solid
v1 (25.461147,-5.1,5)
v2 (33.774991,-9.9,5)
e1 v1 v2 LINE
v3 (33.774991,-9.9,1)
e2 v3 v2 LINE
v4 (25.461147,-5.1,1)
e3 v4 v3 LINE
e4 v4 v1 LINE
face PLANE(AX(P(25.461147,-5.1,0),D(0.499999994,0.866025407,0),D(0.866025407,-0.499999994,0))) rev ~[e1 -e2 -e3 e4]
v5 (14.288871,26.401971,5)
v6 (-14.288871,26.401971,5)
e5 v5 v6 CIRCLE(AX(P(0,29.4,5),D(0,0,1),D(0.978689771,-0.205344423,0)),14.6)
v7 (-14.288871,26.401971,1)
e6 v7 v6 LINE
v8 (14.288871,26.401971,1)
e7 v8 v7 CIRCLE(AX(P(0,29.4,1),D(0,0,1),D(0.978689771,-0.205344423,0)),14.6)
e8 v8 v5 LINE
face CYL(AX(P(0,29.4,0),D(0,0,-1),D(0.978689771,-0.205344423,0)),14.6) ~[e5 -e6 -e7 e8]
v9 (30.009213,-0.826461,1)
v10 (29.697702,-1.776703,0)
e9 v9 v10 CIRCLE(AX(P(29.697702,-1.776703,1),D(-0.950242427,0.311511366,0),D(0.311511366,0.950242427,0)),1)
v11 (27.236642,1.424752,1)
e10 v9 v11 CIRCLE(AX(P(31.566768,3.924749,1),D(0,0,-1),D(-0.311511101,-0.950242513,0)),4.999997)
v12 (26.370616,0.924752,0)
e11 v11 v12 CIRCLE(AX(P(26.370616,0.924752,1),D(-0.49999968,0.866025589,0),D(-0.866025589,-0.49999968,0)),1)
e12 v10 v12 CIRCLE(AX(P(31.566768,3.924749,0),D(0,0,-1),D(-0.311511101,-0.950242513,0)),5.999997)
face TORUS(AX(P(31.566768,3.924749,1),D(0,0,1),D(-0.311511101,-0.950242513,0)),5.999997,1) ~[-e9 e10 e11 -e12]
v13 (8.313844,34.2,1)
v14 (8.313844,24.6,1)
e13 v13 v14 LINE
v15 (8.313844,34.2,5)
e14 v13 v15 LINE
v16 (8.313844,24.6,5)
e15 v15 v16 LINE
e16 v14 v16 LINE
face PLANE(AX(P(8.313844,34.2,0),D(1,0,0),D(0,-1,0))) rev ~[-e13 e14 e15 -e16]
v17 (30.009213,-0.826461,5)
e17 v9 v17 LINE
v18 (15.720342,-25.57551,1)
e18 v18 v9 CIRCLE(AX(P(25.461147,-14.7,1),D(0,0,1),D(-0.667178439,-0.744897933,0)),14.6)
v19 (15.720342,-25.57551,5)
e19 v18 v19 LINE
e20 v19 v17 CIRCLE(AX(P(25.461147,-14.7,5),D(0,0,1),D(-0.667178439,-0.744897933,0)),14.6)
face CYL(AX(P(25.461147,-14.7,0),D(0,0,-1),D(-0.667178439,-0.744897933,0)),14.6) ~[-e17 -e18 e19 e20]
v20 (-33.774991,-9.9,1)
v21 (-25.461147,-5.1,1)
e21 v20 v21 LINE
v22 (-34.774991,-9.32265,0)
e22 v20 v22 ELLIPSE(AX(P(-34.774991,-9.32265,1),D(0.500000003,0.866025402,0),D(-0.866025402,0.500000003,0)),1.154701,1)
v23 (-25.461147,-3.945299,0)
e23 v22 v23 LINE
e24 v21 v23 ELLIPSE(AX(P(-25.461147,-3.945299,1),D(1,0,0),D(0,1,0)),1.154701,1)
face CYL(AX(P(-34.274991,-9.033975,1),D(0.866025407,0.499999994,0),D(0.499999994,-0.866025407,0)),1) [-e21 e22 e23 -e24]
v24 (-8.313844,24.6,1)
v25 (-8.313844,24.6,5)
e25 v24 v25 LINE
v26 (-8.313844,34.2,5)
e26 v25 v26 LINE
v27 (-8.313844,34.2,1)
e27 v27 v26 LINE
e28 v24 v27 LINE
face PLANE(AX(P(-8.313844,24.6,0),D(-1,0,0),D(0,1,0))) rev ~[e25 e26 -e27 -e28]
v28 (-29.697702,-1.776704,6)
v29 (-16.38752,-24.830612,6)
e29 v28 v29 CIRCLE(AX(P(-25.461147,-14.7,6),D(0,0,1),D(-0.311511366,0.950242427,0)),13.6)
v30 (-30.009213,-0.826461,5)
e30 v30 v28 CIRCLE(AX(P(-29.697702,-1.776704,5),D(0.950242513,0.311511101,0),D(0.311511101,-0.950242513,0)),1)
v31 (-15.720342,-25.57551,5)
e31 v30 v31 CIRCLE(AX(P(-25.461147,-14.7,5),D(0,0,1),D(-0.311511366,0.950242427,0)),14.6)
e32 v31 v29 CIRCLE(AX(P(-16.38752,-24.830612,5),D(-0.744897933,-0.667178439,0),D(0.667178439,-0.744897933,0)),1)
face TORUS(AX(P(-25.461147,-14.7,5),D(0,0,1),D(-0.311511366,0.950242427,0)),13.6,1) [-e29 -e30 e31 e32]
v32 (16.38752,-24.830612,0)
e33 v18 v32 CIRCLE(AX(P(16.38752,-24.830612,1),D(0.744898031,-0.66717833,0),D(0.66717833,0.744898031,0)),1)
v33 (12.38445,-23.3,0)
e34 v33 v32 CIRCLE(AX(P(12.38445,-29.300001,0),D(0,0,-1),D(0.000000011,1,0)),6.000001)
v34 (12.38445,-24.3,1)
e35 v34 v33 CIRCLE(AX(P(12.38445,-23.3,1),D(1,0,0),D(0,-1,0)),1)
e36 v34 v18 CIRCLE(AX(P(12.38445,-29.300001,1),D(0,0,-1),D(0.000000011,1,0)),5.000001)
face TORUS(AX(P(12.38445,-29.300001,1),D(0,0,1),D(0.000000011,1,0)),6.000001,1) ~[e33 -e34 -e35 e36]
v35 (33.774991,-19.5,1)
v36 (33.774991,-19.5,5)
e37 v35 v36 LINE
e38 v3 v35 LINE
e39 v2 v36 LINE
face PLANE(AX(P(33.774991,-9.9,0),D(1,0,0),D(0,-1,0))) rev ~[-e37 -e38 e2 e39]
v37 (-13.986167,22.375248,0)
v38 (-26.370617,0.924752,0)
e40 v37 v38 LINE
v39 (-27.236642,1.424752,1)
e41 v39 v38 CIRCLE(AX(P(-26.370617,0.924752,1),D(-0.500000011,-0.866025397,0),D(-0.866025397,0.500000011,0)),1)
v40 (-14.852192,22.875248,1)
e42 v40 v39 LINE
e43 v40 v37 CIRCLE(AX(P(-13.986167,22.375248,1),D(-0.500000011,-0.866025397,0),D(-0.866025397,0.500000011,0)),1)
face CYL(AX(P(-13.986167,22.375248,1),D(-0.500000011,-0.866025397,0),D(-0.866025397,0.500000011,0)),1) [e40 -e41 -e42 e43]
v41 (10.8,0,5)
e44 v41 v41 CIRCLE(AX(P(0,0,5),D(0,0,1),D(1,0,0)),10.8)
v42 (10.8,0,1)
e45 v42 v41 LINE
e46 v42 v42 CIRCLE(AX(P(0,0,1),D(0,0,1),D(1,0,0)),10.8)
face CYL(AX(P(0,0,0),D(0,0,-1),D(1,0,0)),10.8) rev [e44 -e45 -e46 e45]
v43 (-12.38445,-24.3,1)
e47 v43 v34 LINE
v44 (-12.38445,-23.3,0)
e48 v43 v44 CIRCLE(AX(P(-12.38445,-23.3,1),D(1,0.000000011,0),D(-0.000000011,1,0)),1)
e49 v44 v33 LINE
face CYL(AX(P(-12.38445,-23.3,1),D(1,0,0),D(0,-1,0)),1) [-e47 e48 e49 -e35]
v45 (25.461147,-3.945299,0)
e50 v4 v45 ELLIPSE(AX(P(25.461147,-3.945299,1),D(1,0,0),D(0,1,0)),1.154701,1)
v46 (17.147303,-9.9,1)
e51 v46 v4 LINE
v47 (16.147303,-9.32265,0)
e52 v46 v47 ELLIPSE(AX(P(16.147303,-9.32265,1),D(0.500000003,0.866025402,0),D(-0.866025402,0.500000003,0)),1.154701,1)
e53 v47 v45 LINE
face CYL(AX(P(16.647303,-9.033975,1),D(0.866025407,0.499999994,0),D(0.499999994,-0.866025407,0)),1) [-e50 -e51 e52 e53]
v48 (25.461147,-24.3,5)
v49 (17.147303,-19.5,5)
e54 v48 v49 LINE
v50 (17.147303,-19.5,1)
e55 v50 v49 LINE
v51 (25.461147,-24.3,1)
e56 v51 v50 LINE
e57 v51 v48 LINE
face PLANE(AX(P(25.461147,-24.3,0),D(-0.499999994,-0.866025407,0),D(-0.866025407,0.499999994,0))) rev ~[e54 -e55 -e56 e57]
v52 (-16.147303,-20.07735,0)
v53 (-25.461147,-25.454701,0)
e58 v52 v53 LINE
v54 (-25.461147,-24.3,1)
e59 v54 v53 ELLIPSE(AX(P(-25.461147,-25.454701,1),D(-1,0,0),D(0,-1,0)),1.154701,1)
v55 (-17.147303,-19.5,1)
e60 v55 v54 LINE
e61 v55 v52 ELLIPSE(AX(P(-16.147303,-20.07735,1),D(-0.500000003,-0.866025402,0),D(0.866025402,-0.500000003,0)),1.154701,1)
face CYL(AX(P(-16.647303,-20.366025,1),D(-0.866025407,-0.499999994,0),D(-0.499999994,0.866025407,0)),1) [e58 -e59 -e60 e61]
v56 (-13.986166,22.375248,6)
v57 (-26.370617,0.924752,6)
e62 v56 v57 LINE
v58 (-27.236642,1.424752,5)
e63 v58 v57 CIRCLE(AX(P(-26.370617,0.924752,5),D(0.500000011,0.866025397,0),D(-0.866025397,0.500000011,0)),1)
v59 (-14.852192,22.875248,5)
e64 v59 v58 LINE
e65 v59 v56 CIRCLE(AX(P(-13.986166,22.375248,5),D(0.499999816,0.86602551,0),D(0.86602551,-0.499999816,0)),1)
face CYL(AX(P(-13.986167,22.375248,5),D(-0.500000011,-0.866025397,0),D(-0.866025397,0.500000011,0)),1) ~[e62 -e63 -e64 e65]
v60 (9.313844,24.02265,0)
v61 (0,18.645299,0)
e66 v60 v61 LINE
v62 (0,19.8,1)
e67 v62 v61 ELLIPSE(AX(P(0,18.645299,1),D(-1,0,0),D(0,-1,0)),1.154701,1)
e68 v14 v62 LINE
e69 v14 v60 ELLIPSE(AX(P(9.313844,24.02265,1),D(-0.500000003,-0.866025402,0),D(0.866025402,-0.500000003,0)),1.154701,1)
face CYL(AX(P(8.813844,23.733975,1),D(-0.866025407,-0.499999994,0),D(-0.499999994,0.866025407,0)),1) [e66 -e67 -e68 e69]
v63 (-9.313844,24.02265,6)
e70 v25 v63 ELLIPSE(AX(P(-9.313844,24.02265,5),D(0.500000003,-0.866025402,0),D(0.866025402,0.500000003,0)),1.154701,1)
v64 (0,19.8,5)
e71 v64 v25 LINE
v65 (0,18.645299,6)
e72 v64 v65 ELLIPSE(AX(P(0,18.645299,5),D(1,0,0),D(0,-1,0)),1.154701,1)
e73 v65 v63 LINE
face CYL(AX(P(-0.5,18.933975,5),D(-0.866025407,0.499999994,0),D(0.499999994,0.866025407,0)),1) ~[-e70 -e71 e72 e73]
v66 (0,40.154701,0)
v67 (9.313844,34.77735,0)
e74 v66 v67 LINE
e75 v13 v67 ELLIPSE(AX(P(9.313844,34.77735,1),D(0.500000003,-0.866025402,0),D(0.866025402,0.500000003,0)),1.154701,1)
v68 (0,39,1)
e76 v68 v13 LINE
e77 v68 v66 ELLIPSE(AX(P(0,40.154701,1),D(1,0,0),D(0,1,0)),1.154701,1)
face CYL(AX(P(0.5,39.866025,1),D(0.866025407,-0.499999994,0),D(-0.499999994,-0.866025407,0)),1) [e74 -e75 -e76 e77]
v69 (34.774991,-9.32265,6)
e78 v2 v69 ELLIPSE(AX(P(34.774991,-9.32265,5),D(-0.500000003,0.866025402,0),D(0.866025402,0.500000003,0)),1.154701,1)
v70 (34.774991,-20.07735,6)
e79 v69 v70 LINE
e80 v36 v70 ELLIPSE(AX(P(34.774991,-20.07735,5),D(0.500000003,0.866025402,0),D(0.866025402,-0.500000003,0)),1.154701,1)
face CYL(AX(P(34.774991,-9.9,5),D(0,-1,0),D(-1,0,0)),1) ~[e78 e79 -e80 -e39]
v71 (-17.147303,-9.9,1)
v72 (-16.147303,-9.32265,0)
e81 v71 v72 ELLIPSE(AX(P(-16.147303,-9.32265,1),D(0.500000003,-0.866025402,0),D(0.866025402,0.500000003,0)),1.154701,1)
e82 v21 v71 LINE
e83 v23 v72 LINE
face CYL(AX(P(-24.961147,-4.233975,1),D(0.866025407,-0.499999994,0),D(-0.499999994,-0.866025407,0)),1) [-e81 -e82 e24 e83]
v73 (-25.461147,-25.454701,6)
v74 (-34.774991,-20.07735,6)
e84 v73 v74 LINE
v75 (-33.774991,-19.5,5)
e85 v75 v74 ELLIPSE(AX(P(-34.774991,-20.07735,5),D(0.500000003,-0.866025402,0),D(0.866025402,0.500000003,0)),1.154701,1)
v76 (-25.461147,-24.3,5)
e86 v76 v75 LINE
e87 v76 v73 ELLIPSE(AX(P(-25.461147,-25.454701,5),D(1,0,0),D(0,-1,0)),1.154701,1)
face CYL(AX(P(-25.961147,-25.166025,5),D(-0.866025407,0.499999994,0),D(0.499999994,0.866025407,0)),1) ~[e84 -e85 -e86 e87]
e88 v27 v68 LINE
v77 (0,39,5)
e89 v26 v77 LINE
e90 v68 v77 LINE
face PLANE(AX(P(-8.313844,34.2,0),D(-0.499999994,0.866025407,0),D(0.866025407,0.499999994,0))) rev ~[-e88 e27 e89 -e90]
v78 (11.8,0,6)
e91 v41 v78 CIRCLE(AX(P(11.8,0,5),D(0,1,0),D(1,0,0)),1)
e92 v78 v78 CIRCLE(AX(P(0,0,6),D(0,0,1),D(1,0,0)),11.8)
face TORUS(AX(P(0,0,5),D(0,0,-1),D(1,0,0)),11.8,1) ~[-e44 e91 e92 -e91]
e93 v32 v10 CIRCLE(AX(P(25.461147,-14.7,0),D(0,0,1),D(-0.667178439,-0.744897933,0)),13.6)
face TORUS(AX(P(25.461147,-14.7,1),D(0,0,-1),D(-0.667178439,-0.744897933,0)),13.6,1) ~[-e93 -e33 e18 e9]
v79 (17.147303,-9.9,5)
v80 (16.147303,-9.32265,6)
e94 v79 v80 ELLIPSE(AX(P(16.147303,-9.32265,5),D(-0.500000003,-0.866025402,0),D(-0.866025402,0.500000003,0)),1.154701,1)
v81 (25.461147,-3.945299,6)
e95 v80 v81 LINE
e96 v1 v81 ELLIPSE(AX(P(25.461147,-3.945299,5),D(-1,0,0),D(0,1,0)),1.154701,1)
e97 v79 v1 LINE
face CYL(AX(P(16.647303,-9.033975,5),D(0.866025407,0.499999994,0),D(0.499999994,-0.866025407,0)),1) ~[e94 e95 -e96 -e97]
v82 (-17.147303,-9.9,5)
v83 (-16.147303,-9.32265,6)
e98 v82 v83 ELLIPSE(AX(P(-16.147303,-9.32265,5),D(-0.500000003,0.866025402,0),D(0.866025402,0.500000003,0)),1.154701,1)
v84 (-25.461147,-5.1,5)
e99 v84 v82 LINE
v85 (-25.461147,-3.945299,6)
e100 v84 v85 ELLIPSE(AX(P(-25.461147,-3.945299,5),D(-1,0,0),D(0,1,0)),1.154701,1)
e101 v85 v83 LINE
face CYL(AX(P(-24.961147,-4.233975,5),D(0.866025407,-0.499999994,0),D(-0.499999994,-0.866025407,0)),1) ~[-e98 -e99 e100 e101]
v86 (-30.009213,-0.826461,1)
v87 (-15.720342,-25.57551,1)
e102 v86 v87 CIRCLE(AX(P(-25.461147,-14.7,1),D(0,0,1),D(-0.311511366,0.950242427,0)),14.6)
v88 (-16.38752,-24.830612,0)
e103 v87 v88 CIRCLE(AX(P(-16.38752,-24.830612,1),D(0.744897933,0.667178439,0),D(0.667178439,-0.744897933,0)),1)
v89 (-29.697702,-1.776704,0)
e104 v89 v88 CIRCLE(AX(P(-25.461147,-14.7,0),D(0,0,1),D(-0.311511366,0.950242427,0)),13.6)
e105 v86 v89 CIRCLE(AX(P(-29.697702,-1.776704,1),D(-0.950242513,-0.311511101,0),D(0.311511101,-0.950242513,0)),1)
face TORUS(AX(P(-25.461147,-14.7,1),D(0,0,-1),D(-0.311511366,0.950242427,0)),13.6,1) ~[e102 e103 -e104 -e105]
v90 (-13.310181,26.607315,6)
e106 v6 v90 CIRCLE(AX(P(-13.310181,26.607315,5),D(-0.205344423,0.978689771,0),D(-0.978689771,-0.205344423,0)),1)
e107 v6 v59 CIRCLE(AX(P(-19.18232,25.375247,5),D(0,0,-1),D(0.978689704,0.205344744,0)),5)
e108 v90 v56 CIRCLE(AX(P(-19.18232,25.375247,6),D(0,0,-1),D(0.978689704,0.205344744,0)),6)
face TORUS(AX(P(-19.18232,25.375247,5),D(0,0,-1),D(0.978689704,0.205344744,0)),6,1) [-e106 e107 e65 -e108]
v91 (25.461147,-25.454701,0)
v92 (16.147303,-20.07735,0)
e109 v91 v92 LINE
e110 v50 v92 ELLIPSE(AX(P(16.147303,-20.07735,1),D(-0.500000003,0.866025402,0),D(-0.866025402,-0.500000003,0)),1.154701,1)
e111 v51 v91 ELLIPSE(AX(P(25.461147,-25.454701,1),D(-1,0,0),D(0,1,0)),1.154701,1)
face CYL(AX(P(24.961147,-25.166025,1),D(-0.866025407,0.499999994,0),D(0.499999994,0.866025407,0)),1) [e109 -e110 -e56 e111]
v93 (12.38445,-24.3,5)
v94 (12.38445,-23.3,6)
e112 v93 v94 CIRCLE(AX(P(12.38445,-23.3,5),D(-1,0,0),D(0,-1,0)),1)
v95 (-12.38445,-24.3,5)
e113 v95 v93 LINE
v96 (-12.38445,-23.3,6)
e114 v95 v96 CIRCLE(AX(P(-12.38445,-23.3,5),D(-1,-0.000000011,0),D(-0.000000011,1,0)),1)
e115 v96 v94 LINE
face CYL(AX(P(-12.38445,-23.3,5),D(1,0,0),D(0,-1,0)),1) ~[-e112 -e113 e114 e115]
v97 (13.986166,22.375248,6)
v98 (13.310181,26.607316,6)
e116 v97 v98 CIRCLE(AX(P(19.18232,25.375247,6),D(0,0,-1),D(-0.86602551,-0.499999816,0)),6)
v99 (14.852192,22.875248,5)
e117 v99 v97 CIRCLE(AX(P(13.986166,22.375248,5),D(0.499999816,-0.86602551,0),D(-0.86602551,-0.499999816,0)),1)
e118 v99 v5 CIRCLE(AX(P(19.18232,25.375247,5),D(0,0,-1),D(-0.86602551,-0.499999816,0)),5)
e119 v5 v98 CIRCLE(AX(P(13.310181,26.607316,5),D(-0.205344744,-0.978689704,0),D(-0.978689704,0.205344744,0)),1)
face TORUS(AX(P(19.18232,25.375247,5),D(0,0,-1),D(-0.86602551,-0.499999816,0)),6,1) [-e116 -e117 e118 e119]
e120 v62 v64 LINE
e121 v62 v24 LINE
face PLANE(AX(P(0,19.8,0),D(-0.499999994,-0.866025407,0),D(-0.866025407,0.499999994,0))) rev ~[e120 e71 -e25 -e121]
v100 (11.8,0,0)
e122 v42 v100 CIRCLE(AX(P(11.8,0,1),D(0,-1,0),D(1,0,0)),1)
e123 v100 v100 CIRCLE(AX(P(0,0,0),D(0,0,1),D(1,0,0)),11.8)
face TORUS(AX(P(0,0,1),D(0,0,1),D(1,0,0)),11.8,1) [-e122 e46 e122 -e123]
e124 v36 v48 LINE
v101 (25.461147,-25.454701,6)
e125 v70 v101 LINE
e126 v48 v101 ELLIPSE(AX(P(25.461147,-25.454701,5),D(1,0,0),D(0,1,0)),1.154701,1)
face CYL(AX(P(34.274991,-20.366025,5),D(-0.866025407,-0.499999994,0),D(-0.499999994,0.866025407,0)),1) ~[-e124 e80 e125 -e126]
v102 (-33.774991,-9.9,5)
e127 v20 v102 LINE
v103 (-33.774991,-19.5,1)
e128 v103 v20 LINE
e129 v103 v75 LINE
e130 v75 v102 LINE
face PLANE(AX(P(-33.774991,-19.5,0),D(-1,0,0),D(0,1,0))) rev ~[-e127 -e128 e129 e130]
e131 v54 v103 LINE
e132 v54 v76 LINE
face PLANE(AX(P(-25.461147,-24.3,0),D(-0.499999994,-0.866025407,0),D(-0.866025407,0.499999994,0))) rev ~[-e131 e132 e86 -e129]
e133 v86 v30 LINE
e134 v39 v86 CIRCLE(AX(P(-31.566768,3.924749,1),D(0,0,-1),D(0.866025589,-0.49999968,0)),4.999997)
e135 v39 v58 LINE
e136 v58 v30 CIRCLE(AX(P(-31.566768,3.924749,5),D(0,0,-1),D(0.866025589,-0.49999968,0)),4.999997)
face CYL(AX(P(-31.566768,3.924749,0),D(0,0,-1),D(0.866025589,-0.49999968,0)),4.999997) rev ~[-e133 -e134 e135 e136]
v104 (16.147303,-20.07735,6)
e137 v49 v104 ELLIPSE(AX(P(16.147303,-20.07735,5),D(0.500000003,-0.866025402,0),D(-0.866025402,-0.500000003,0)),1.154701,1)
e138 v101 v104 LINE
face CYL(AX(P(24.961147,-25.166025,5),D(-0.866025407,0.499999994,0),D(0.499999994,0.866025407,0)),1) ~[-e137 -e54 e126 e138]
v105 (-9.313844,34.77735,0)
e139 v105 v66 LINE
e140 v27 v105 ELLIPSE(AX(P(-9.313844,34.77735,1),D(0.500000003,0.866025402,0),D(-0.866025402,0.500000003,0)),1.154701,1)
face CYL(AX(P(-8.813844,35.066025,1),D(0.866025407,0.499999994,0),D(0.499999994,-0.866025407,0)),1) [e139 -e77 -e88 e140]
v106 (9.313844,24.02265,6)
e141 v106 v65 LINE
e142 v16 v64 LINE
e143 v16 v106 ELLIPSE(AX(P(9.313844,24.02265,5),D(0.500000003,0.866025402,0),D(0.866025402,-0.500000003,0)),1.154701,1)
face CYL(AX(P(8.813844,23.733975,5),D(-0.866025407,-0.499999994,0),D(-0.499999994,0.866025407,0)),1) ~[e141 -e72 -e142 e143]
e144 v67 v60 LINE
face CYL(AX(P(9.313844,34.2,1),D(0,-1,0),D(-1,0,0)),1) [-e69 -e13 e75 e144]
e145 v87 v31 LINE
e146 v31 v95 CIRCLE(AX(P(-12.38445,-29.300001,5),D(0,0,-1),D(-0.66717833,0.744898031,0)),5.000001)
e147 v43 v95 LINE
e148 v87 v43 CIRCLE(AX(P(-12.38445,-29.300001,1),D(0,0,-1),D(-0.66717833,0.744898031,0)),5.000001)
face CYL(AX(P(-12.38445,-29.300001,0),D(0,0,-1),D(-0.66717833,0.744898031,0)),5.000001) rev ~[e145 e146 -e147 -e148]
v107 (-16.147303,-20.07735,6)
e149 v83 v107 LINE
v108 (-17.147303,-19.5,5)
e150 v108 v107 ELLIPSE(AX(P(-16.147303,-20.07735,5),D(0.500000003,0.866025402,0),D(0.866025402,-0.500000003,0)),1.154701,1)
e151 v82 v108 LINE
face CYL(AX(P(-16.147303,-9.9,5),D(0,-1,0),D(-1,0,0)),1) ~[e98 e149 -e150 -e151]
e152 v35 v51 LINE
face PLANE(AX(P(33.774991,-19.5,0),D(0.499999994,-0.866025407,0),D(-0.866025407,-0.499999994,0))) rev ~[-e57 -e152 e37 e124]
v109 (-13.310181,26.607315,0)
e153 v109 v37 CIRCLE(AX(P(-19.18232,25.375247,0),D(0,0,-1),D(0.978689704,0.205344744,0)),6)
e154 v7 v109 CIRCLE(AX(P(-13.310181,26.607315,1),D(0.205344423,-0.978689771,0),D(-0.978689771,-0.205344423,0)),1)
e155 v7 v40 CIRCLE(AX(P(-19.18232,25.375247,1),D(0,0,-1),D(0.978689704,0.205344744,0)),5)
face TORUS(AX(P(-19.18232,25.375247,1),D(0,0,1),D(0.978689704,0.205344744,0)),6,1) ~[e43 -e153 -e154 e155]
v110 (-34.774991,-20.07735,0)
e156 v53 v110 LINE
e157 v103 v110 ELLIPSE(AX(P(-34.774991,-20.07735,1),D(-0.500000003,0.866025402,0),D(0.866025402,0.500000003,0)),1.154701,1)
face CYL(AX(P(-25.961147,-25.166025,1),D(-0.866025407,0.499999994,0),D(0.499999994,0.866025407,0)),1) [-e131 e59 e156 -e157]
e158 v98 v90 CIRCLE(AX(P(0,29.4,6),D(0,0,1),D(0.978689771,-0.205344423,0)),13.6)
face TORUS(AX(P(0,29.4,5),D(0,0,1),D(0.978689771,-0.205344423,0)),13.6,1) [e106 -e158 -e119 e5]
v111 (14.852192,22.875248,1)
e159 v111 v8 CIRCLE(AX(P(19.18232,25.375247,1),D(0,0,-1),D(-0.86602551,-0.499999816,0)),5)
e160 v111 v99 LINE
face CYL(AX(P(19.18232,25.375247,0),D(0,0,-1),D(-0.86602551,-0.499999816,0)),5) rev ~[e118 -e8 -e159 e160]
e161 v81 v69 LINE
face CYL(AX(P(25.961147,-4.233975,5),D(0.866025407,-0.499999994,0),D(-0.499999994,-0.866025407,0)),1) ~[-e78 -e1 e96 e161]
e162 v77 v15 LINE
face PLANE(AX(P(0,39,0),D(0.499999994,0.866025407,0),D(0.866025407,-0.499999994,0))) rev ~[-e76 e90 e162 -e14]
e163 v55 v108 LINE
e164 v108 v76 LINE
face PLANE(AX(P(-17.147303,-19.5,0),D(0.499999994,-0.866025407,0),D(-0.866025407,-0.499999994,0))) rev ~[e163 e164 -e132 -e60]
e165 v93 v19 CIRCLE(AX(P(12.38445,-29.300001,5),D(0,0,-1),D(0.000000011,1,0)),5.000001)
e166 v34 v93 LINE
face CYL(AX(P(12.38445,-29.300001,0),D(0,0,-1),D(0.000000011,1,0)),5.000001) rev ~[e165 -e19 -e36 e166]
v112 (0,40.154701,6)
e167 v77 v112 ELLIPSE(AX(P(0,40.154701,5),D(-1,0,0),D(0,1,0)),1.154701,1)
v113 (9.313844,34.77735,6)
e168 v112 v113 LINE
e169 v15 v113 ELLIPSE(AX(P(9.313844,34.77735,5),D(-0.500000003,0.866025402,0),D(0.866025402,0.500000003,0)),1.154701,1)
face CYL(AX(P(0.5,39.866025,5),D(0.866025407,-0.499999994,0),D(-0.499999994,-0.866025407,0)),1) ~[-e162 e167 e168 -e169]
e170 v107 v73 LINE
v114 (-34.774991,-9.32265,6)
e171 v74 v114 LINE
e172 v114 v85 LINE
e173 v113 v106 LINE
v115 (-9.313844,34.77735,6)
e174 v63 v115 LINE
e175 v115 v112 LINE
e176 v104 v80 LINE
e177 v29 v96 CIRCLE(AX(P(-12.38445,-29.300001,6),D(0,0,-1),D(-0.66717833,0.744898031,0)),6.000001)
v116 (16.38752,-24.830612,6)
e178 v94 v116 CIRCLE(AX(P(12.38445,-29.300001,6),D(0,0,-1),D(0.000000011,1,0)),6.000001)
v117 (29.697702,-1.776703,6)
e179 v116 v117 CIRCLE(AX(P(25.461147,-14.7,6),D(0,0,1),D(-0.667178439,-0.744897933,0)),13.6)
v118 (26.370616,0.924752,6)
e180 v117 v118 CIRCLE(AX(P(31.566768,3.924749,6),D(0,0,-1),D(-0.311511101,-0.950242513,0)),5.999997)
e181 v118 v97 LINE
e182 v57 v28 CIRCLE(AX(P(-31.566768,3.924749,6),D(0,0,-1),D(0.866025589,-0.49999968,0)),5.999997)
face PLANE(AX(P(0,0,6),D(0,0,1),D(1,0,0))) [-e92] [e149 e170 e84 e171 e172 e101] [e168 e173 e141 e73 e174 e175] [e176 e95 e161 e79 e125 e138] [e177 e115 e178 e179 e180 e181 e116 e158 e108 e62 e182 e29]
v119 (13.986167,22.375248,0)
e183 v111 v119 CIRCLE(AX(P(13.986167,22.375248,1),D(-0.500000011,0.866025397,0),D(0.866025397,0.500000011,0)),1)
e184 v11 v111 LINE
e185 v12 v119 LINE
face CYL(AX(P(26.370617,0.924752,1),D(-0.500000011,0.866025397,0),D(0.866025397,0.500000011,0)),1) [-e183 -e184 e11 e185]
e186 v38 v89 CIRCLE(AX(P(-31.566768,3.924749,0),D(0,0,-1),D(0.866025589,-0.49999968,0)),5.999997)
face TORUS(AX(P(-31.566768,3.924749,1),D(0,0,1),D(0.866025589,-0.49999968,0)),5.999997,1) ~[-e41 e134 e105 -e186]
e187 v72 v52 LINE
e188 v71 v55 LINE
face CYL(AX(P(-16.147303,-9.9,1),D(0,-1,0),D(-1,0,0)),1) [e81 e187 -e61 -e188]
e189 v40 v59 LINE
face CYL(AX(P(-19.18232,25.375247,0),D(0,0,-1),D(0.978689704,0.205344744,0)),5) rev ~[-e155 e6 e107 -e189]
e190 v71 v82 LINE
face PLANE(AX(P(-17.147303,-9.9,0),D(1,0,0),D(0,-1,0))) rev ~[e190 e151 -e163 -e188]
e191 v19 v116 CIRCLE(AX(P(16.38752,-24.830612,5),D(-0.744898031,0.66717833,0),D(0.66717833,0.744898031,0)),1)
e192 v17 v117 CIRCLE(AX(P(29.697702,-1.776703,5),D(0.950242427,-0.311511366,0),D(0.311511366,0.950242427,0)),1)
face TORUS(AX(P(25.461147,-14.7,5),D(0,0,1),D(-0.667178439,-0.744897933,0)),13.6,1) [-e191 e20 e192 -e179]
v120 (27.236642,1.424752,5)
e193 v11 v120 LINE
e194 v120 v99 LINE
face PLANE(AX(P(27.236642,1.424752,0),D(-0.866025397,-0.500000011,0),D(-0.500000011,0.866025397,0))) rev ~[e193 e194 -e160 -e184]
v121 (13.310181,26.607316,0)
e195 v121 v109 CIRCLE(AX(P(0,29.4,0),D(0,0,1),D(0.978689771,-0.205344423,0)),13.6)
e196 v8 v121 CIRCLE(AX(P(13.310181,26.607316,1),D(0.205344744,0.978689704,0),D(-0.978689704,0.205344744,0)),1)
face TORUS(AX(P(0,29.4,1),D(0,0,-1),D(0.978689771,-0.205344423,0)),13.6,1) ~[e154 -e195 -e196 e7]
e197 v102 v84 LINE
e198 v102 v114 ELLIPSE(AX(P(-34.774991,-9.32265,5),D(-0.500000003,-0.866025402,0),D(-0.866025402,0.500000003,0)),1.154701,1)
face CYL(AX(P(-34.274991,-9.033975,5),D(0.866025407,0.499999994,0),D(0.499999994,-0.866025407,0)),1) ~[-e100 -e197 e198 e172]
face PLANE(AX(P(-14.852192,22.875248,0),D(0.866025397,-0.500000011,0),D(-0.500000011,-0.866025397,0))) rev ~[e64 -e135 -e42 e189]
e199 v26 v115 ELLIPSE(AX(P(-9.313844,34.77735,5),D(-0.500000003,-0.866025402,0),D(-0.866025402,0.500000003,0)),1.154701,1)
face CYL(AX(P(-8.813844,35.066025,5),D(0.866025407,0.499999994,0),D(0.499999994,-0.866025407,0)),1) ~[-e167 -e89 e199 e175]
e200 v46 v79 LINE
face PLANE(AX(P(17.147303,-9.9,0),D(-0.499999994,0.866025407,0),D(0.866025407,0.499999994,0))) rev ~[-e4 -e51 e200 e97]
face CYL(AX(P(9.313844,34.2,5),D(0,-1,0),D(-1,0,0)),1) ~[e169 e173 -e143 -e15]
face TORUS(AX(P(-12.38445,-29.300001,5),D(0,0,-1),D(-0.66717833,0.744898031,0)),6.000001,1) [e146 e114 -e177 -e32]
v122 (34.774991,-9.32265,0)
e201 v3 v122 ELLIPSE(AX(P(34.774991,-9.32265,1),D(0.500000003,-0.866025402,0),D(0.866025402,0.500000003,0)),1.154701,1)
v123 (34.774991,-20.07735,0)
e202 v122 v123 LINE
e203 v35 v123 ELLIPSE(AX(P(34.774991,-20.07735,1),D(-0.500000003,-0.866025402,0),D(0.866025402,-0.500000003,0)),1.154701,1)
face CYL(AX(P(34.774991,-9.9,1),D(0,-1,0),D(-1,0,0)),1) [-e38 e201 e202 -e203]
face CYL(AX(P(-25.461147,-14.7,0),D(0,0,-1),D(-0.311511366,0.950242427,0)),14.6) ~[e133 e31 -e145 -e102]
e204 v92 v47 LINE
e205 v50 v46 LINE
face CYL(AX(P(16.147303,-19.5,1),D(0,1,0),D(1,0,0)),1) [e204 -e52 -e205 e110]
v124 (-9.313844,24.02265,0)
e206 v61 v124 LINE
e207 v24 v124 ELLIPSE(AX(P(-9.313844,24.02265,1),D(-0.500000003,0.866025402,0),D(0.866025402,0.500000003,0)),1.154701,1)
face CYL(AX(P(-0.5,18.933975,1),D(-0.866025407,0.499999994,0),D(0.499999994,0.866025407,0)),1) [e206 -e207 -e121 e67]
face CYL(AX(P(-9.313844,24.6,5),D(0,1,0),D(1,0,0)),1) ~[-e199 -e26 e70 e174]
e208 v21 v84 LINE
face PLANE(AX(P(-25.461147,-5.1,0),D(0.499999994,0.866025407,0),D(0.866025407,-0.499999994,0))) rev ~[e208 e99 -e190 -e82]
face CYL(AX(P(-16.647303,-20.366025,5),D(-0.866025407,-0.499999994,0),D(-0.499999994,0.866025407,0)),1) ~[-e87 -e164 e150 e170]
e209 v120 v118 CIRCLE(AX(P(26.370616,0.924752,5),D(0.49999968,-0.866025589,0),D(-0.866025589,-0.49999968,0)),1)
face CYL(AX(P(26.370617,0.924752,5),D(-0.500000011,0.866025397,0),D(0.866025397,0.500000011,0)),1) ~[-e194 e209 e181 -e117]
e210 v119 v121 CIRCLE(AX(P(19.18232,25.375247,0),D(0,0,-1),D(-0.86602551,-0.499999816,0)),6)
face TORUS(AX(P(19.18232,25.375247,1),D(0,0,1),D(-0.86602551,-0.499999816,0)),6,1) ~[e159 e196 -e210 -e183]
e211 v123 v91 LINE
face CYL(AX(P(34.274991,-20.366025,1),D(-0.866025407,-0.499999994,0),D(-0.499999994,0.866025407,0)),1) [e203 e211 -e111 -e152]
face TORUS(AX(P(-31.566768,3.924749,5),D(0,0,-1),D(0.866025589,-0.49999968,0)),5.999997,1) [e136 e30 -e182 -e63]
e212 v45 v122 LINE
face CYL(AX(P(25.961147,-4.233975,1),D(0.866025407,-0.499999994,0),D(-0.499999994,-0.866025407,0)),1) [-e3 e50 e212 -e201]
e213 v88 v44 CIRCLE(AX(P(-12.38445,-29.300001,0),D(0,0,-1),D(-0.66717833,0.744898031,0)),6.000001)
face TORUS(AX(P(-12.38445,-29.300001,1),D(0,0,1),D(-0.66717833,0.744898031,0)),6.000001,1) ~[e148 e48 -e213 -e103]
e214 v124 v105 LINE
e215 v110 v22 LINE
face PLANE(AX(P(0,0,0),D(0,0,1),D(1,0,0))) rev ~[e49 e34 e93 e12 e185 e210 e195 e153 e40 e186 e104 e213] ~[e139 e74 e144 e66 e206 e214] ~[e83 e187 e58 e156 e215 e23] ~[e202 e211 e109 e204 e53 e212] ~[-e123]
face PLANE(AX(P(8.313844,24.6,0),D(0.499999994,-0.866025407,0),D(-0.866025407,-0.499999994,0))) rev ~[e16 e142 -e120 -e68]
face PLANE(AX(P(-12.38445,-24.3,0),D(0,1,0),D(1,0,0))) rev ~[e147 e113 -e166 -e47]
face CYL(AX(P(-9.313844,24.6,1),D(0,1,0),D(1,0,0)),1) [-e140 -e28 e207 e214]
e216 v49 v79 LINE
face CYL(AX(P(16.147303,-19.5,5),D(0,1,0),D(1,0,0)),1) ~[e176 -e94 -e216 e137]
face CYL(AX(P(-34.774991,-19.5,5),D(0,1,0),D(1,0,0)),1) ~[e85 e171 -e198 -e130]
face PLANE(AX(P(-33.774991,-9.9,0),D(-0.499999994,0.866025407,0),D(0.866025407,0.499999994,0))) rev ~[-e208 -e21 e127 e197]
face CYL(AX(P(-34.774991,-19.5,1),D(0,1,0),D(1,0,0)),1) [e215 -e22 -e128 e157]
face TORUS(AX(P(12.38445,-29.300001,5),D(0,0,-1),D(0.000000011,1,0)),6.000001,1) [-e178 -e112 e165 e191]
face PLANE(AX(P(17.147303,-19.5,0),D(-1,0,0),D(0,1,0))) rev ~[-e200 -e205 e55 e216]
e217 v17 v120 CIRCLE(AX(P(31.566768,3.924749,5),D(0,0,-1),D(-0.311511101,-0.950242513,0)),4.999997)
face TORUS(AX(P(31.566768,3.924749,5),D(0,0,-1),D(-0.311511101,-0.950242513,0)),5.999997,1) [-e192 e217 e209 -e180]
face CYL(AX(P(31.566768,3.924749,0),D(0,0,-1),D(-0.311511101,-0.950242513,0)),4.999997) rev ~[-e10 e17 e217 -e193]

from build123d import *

# Parameters (mm, degrees)
F0_R     = 10.8
F1_DEPTH = 6
F2_R     = 1


with BuildPart() as f1:
    # F0 (on Top) → F1 (new body)
    with BuildSketch(Plane.XY):
        with BuildLine():
            ThreePointArc((14.852192, 22.875248), (14.244908, 24.586598), (14.288871, 26.401971))
            ThreePointArc((14.288871, 26.401971), (0, 44), (-14.288871, 26.401971))
            ThreePointArc((-14.288871, 26.401971), (-14.244908, 24.586598), (-14.852192, 22.875248))
            Line((-14.852192, 22.875248), (-27.236642, 1.424752))
            ThreePointArc((-27.236642, 1.424752), (-28.415072, 0.043153), (-30.009213, -0.826461))
            ThreePointArc((-30.009213, -0.826461), (-38.105118, -22), (-15.720342, -25.57551))
            ThreePointArc((-15.720342, -25.57551), (-14.170164, -24.629751), (-12.38445, -24.3))
            Line((-12.38445, -24.3), (12.38445, -24.3))
            ThreePointArc((12.38445, -24.3), (14.170164, -24.629751), (15.720342, -25.57551))
            ThreePointArc((15.720342, -25.57551), (38.105118, -22), (30.009213, -0.826461))
            ThreePointArc((30.009213, -0.826461), (28.415072, 0.043153), (27.236642, 1.424752))
            Line((27.236642, 1.424752), (14.852192, 22.875248))
        make_face()
        Polygon((-33.774991, -9.9), (-25.461147, -5.1), (-17.147303, -9.9), (-17.147303, -19.5), (-25.461147, -24.3), (-33.774991, -19.5), align=None, mode=Mode.SUBTRACT)
        Polygon((25.461147, -24.3), (17.147303, -19.5), (17.147303, -9.9), (25.461147, -5.1), (33.774991, -9.9), (33.774991, -19.5), align=None, mode=Mode.SUBTRACT)
        Circle(F0_R, mode=Mode.SUBTRACT)
        Polygon((0, 39), (8.313844, 34.2), (8.313844, 24.6), (0, 19.8), (-8.313844, 24.6), (-8.313844, 34.2), align=None, mode=Mode.SUBTRACT)
    extrude(amount=F1_DEPTH)

    # F2
    f2_edges = [f1.edges().sort_by_distance(p)[0] for p in [
        (14.244908, 24.586598, 6),
        (0, 44, 6),
        (-14.244908, 24.586598, 6),
        (-21.044417, 12.15, 6),
        (-28.415072, 0.043153, 6),
        (-38.105118, -22, 6),
        (-14.170164, -24.629751, 6),
        (0, -24.3, 6),
        (14.170164, -24.629751, 6),
        (38.105118, -22, 6),
        (28.415072, 0.043153, 6),
        (21.044417, 12.15, 6),
        (-33.774991, -14.7, 6),
        (-29.618069, -7.5, 6),
        (-21.304225, -7.5, 6),
        (-17.147303, -14.7, 6),
        (-21.304225, -21.9, 6),
        (-29.618069, -21.9, 6),
        (21.304225, -21.9, 6),
        (17.147303, -14.7, 6),
        (21.304225, -7.5, 6),
        (29.618069, -7.5, 6),
        (33.774991, -14.7, 6),
        (29.618069, -21.9, 6),
        (-10.8, 0, 6),
        (-8.313844, 29.4, 6),
        (-4.156922, 36.6, 6),
        (4.156922, 36.6, 6),
        (8.313844, 29.4, 6),
        (4.156922, 22.2, 6),
        (-4.156922, 22.2, 6),
        (-21.044417, 12.15, 0),
        (14.244908, 24.586598, 0),
        (0, 44, 0),
        (-14.244908, 24.586598, 0),
        (-28.415072, 0.043153, 0),
        (-38.105118, -22, 0),
        (-14.170164, -24.629751, 0),
        (0, -24.3, 0),
        (14.170164, -24.629751, 0),
        (38.105118, -22, 0),
        (28.415072, 0.043153, 0),
        (21.044417, 12.15, 0),
        (-33.774991, -14.7, 0),
        (-29.618069, -7.5, 0),
        (-21.304225, -7.5, 0),
        (-17.147303, -14.7, 0),
        (-21.304225, -21.9, 0),
        (-29.618069, -21.9, 0),
        (21.304225, -21.9, 0),
        (17.147303, -14.7, 0),
        (21.304225, -7.5, 0),
        (29.618069, -7.5, 0),
        (33.774991, -14.7, 0),
        (29.618069, -21.9, 0),
        (-10.8, 0, 0),
        (-8.313844, 29.4, 0),
        (-4.156922, 36.6, 0),
        (4.156922, 36.6, 0),
        (8.313844, 29.4, 0),
        (4.156922, 22.2, 0),
        (-4.156922, 22.2, 0),
    ]]
    fillet(f2_edges, radius=F2_R)


solid = f1.part
